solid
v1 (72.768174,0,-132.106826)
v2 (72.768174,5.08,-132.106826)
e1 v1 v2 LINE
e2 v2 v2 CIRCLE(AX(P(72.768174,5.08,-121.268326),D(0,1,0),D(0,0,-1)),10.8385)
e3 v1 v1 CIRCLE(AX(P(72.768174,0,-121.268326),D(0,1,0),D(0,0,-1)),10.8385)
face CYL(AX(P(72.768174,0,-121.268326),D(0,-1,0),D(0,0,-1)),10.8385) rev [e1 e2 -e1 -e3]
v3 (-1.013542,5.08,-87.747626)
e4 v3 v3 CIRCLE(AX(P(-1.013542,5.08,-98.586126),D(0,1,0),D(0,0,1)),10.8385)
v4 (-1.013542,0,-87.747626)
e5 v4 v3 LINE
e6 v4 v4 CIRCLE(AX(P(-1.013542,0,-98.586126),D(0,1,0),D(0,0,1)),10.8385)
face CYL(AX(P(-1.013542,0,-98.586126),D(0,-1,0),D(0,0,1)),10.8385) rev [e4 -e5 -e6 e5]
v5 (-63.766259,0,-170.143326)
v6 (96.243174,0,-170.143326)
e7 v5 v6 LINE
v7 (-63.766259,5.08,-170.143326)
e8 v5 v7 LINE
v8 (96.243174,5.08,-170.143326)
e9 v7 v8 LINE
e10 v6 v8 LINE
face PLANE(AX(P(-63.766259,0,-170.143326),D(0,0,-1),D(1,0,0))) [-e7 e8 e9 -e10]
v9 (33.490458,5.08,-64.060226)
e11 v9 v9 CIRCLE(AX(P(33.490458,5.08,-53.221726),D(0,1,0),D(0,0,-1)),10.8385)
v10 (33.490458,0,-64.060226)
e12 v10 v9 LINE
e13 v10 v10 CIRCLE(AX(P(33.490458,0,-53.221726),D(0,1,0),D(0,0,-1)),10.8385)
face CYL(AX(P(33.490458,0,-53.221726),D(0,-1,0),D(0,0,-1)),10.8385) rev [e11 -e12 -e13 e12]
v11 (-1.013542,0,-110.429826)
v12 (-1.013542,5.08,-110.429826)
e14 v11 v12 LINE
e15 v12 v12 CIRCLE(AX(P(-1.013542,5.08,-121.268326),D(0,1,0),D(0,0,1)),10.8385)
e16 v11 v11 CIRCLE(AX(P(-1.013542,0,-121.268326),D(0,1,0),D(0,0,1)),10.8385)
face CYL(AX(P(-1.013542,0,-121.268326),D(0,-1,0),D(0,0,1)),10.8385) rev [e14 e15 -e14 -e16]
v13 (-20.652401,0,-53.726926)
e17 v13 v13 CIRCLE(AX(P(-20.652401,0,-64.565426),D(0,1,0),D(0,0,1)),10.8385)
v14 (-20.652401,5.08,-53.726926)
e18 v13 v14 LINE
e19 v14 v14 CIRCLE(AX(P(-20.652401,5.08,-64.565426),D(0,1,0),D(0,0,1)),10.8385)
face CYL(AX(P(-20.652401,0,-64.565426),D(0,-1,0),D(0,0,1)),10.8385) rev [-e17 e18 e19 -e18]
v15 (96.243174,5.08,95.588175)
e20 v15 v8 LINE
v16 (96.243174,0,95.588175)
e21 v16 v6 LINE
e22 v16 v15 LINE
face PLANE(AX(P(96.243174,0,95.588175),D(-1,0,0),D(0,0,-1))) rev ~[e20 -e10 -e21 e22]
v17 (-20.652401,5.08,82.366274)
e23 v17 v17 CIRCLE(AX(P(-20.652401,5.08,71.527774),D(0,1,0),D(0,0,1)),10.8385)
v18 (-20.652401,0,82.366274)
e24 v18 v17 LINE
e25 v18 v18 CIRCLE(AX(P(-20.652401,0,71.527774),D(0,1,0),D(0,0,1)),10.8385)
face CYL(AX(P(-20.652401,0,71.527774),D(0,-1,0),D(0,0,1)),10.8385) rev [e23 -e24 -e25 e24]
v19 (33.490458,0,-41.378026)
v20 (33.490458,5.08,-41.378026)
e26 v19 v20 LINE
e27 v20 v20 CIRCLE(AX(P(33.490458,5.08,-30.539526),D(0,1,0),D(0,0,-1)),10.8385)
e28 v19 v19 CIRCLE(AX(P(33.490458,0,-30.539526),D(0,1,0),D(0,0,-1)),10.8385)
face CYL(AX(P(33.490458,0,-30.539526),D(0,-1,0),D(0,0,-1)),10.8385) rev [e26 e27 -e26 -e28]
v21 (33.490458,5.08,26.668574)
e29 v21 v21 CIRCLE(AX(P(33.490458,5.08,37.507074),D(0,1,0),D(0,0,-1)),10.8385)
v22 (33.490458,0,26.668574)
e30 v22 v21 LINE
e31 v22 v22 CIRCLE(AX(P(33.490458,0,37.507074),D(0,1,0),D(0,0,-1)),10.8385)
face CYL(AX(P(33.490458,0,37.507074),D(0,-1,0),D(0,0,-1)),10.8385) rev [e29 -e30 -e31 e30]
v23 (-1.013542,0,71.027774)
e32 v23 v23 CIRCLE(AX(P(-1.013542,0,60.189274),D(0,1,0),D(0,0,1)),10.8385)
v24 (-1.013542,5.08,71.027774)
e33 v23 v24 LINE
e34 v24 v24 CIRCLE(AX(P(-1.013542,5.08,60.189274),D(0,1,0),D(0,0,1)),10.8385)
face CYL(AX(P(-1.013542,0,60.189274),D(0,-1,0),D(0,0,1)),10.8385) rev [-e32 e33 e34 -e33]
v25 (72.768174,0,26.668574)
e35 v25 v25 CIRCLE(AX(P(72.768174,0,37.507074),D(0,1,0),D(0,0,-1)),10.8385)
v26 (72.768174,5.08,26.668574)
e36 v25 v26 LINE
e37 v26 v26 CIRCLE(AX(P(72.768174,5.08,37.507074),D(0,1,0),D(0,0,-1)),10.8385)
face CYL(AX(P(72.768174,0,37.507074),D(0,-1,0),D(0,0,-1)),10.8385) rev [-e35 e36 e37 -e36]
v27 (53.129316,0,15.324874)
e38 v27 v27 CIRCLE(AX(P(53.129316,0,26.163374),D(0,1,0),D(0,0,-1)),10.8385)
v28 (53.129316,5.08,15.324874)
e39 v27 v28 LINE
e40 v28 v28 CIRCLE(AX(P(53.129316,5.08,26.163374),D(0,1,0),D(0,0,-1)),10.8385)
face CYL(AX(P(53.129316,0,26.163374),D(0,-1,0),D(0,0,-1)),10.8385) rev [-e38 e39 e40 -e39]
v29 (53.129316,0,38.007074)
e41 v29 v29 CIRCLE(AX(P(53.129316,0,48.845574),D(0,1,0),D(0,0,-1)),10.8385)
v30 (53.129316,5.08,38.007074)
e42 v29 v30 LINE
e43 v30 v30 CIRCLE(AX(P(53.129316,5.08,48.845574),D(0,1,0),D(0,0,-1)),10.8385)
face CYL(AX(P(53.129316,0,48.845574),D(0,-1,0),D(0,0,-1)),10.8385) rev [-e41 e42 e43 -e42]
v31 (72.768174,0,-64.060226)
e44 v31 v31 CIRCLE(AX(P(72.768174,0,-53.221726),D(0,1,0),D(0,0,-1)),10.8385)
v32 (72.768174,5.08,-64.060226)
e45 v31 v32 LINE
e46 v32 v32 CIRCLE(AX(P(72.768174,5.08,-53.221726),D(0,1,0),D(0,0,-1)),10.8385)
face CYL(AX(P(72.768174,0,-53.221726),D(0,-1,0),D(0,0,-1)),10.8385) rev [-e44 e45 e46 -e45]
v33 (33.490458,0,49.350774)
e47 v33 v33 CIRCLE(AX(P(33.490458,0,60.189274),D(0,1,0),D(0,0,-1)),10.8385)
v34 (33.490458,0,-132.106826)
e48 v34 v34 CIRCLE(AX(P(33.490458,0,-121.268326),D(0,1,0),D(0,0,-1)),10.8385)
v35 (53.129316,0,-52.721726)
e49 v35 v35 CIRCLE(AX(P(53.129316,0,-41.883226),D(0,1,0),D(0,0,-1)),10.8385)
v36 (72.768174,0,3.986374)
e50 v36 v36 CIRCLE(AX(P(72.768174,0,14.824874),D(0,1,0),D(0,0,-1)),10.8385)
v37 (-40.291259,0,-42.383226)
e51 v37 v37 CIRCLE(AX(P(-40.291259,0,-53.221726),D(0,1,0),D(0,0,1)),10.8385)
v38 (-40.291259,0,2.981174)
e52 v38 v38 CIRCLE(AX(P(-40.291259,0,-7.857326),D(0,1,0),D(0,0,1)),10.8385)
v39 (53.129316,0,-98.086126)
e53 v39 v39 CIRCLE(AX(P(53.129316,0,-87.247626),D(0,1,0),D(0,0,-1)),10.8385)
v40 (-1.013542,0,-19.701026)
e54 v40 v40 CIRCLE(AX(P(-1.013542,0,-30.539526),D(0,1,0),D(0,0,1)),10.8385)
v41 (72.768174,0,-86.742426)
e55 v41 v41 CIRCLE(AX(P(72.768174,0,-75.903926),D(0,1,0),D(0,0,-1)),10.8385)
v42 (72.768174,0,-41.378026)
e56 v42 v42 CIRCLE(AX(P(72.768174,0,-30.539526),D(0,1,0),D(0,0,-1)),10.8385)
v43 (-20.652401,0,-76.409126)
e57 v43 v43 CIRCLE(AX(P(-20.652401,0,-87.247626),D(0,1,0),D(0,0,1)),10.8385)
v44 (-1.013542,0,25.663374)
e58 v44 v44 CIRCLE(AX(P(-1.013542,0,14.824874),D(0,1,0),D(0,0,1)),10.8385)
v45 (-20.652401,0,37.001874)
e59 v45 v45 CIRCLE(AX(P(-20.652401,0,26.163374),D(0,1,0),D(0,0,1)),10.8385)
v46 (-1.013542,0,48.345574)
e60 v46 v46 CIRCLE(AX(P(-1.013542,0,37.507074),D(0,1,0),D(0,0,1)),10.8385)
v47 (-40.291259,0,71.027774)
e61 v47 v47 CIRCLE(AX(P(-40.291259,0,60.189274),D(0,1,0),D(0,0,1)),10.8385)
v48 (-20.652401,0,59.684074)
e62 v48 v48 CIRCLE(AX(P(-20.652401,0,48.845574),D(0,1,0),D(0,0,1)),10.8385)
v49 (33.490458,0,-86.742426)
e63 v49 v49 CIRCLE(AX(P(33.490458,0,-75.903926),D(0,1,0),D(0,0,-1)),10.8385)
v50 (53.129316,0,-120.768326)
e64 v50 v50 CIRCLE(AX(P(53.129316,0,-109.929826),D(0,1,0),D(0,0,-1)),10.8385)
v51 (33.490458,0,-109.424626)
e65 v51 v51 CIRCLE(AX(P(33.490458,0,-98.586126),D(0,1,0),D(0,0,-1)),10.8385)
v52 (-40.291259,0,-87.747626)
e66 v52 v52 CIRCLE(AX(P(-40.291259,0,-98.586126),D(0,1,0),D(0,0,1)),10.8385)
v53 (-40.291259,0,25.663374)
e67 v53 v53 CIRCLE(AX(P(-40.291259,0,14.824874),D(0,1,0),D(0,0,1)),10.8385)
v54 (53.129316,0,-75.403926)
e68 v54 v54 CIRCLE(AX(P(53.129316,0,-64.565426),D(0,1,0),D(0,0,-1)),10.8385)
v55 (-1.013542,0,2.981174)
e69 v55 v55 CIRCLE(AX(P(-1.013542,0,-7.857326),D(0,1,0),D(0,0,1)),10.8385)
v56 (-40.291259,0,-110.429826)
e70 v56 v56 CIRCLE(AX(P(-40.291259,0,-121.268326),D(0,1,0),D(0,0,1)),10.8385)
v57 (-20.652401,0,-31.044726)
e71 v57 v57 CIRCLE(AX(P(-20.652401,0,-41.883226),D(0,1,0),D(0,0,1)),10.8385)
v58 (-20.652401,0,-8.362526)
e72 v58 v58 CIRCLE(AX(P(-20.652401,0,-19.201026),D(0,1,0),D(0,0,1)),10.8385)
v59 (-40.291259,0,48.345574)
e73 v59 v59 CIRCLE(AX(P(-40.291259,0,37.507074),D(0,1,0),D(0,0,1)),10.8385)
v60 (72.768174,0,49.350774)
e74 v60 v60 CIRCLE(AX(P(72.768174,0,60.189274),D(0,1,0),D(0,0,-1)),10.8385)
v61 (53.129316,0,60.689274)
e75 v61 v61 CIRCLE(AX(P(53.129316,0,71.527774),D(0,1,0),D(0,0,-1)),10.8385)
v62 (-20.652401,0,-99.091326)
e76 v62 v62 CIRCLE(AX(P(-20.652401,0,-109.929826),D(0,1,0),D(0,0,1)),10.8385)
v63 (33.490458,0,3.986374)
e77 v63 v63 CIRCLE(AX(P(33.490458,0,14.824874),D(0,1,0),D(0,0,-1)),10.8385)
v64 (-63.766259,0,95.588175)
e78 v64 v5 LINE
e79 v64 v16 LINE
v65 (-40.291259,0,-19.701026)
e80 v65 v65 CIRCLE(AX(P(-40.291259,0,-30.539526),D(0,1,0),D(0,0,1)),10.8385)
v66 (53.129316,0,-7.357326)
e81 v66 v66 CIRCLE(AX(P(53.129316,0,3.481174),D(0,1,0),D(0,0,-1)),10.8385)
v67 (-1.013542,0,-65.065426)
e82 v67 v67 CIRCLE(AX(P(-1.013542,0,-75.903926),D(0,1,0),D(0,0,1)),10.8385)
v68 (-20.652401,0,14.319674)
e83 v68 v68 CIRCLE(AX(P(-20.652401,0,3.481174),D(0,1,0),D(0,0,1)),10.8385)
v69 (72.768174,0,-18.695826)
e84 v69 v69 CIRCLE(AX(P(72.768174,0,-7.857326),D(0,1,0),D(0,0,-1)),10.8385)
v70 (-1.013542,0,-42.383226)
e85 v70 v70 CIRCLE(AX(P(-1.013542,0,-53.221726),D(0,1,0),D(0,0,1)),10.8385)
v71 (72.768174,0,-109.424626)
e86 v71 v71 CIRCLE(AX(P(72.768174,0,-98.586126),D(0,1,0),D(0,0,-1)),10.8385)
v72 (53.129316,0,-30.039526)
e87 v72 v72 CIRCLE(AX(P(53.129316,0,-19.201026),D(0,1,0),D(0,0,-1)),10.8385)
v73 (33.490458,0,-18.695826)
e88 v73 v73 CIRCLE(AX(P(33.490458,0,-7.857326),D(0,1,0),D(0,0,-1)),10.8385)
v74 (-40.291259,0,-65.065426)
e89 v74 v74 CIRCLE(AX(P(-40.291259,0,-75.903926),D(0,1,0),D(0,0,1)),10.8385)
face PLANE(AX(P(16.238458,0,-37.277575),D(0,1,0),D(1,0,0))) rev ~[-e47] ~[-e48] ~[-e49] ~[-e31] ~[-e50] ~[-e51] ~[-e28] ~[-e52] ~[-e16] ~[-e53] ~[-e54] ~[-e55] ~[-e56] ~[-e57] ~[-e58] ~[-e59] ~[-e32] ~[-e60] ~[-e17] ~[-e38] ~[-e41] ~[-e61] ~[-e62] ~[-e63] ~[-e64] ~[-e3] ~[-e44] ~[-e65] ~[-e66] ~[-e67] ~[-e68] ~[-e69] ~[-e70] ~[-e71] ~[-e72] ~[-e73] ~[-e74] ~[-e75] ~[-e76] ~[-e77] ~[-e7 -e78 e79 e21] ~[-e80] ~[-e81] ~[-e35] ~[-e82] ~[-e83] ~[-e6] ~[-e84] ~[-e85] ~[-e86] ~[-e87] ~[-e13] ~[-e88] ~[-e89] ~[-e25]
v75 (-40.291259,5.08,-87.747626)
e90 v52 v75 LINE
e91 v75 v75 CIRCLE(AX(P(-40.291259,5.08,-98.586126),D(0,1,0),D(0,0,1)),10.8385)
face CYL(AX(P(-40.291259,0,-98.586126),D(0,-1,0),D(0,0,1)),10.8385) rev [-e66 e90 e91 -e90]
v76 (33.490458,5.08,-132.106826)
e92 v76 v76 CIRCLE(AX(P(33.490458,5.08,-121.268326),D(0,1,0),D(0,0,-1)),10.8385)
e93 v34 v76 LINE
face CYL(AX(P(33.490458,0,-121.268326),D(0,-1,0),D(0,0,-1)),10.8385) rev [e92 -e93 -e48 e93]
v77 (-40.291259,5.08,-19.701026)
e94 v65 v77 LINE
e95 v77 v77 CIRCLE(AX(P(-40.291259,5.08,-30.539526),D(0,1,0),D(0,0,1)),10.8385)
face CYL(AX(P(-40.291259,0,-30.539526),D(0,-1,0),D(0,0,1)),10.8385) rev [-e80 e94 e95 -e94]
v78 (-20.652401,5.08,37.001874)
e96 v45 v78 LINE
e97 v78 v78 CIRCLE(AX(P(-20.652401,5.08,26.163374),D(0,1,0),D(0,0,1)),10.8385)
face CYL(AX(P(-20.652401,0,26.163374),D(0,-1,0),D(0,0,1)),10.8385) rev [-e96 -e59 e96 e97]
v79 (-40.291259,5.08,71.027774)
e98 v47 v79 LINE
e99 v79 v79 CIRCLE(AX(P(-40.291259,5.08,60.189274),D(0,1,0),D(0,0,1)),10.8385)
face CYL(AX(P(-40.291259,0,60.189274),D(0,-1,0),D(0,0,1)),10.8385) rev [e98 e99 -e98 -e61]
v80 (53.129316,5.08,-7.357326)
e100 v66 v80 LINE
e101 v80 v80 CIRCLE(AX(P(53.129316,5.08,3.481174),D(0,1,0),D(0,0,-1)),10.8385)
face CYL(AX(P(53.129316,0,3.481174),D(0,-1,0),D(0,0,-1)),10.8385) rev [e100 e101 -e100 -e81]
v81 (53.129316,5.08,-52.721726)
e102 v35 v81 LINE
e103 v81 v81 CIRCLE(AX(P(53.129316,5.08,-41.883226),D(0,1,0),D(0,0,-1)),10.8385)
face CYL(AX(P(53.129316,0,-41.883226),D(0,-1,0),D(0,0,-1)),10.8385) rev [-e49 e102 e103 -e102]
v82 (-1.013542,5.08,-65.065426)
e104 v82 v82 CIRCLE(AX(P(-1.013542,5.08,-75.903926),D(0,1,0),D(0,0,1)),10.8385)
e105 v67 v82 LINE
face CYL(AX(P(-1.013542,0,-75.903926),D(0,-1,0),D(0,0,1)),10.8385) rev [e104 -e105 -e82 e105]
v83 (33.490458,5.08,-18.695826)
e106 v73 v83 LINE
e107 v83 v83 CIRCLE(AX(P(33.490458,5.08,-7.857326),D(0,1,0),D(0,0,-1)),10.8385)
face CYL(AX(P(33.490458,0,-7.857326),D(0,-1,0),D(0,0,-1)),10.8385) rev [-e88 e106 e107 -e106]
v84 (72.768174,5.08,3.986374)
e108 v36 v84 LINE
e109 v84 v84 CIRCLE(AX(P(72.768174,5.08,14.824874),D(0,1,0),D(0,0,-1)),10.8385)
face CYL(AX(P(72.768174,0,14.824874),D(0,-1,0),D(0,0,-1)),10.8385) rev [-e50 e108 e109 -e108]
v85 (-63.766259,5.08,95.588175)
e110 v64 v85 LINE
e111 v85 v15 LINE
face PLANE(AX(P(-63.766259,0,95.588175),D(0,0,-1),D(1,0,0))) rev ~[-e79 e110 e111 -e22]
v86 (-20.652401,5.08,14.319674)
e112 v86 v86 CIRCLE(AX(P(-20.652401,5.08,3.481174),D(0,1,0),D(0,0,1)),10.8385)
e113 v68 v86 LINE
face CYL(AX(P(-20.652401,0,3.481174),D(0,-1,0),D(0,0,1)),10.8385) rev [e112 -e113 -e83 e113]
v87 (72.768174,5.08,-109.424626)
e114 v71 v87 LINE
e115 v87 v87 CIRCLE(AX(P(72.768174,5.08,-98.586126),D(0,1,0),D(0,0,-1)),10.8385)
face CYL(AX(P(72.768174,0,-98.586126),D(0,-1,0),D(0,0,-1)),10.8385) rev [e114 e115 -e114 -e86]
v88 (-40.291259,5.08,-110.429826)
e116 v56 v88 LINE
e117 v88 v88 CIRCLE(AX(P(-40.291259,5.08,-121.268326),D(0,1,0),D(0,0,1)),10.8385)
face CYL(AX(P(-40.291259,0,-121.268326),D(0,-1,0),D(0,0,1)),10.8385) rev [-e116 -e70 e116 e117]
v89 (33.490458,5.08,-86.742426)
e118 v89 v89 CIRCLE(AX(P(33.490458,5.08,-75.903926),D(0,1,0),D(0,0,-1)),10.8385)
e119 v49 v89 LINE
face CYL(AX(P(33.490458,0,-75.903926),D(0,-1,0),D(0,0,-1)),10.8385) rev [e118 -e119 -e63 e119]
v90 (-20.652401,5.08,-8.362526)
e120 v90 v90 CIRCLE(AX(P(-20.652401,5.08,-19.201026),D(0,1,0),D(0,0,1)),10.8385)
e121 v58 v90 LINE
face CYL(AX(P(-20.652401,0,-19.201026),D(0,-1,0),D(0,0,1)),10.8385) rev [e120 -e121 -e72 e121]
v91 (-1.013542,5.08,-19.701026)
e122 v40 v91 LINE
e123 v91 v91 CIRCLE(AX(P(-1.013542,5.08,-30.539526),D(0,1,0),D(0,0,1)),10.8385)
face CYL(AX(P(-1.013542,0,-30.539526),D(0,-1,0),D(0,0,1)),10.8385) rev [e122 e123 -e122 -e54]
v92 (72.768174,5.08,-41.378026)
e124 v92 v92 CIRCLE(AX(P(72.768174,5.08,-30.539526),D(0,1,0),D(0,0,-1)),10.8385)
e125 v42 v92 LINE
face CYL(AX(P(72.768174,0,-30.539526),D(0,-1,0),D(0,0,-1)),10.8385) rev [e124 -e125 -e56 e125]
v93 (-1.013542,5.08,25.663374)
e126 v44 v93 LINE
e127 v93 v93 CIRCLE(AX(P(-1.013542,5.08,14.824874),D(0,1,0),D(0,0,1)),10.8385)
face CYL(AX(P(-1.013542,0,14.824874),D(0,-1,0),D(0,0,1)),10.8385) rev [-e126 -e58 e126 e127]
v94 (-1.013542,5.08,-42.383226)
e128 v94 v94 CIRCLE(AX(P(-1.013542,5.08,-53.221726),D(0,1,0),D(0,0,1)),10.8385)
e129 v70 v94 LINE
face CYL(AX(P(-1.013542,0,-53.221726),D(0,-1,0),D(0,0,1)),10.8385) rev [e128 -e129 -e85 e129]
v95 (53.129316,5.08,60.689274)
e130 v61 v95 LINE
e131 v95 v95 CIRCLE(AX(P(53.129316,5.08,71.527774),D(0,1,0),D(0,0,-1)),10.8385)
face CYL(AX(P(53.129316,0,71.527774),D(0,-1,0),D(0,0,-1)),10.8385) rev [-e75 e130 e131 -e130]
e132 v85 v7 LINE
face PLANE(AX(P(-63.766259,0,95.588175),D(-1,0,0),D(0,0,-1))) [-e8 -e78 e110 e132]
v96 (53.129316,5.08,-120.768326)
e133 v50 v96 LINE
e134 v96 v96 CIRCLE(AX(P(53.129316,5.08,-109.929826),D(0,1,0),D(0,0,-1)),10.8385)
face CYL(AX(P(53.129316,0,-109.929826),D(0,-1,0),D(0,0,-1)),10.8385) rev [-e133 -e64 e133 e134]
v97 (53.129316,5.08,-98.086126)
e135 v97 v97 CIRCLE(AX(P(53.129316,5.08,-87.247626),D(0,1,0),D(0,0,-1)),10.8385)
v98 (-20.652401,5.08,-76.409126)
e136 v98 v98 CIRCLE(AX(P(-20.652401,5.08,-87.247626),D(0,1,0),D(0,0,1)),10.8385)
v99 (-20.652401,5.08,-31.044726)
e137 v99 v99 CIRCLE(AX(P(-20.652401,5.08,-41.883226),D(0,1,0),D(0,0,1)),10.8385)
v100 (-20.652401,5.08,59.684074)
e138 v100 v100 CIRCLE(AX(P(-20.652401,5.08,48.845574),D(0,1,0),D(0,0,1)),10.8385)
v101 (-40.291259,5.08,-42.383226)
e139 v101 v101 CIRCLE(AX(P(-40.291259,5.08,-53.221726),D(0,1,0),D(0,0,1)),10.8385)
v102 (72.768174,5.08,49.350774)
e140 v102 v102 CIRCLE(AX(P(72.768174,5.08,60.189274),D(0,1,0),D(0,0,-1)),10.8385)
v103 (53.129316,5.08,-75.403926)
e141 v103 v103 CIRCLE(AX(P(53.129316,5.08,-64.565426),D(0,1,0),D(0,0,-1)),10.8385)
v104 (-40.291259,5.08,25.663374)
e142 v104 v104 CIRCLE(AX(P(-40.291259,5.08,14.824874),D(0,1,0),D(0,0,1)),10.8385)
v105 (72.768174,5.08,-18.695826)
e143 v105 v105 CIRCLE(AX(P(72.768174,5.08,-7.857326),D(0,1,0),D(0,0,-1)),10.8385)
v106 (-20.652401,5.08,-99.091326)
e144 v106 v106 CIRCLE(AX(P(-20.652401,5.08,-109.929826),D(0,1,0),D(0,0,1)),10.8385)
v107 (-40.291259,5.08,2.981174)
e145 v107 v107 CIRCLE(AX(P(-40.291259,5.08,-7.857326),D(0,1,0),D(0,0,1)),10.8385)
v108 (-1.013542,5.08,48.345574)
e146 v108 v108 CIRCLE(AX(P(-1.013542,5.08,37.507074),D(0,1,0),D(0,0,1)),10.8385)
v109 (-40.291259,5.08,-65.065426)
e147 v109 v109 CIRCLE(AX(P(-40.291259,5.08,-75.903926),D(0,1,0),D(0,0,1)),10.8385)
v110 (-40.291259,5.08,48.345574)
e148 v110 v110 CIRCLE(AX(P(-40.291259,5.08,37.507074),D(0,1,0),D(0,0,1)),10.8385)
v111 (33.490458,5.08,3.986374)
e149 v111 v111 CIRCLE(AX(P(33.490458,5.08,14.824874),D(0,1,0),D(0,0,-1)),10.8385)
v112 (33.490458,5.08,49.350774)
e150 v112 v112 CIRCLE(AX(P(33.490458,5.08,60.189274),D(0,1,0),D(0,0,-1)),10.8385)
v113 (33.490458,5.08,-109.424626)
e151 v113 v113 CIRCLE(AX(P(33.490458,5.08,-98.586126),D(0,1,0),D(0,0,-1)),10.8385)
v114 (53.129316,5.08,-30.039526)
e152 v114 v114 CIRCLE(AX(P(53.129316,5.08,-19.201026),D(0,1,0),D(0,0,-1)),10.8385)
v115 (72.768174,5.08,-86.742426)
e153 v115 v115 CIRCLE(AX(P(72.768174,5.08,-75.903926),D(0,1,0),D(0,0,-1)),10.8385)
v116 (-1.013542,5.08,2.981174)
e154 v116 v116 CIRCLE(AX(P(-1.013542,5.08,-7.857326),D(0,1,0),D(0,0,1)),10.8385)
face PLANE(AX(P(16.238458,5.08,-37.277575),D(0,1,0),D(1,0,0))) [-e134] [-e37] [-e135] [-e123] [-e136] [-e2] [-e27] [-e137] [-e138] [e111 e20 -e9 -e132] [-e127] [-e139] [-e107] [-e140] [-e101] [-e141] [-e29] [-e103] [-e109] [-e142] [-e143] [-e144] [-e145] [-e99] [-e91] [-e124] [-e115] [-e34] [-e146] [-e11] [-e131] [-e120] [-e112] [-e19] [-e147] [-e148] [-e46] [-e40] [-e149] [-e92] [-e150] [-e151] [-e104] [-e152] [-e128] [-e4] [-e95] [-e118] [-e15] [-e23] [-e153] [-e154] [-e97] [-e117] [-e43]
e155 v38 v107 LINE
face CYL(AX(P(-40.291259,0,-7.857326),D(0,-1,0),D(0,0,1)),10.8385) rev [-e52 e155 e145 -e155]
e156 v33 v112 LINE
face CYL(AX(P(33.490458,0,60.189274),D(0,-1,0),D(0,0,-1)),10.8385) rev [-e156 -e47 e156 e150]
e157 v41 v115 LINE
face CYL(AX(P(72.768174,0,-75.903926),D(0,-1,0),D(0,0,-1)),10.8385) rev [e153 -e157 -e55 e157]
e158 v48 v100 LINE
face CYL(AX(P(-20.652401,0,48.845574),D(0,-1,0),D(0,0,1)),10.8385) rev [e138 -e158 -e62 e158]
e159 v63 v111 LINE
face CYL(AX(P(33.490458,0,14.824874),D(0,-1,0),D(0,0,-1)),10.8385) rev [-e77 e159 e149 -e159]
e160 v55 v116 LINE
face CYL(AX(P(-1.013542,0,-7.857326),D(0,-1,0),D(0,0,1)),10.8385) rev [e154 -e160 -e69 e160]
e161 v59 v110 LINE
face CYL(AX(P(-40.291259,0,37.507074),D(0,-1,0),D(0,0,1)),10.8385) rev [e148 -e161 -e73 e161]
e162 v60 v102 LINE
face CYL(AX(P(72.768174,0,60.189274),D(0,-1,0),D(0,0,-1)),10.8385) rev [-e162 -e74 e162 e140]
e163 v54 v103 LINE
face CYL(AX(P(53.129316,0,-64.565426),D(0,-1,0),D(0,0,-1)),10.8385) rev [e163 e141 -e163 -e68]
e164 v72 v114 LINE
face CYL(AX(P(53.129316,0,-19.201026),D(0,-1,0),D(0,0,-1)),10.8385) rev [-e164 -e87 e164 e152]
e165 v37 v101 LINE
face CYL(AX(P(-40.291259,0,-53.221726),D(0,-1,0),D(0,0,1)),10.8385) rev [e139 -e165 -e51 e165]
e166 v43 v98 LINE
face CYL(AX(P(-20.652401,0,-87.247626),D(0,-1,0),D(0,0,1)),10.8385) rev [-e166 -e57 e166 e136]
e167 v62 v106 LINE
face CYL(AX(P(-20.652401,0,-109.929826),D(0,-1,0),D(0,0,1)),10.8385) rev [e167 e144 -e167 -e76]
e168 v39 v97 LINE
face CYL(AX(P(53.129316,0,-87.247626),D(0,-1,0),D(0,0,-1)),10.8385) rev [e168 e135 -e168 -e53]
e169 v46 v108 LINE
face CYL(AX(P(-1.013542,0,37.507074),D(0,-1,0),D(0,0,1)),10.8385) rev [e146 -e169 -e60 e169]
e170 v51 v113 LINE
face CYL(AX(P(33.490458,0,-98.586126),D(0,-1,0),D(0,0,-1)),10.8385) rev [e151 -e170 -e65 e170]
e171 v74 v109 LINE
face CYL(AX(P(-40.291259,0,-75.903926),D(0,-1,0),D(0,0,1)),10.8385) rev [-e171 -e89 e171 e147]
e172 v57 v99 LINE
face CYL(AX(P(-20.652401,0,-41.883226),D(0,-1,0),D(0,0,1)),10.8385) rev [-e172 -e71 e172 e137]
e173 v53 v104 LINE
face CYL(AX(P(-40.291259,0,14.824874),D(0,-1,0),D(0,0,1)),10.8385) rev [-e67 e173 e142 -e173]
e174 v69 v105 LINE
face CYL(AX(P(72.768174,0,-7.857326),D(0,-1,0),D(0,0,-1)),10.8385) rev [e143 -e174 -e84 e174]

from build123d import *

# Parameters (mm, degrees)
SKETCH1_W           = 160.009432875
SKETCH1_H           = 265.731501048
SKETCH1_R           = 10.83850004
BOSS_EXTRUDE1_DEPTH = 5.08


with BuildPart() as part:
    # Sketch1 → Boss-Extrude1 (new body)
    with BuildSketch(Plane(origin=(0, 0, 0), x_dir=(1, 0, 0), z_dir=(0, 1, 0))):
        with Locations((16.238457681, 37.277575452)):
            Rectangle(SKETCH1_W, SKETCH1_H)
        with Locations(Location((-40.291258717, 121.268325936, 0), (0, 0, 270))):
            Circle(SKETCH1_R, mode=Mode.SUBTRACT)
        with Locations(Location((-20.652400538, 109.92982588, 0), (0, 0, 270))):
            Circle(SKETCH1_R, mode=Mode.SUBTRACT)
        with Locations(Location((-1.01354236, 121.268325936, 0), (0, 0, 270))):
            Circle(SKETCH1_R, mode=Mode.SUBTRACT)
        with Locations(Location((-40.291258717, 98.586125936, 0), (0, 0, 270))):
            Circle(SKETCH1_R, mode=Mode.SUBTRACT)
        with Locations(Location((-20.652400538, 87.24762588, 0), (0, 0, 270))):
            Circle(SKETCH1_R, mode=Mode.SUBTRACT)
        with Locations(Location((-1.01354236, 98.586125936, 0), (0, 0, 270))):
            Circle(SKETCH1_R, mode=Mode.SUBTRACT)
        with Locations(Location((-40.291258717, 75.903925936, 0), (0, 0, 270))):
            Circle(SKETCH1_R, mode=Mode.SUBTRACT)
        with Locations(Location((-20.652400538, 64.56542588, 0), (0, 0, 270))):
            Circle(SKETCH1_R, mode=Mode.SUBTRACT)
        with Locations(Location((-1.01354236, 75.903925936, 0), (0, 0, 270))):
            Circle(SKETCH1_R, mode=Mode.SUBTRACT)
        with Locations(Location((-40.291258717, 53.221725936, 0), (0, 0, 270))):
            Circle(SKETCH1_R, mode=Mode.SUBTRACT)
        with Locations(Location((-20.652400538, 41.88322588, 0), (0, 0, 270))):
            Circle(SKETCH1_R, mode=Mode.SUBTRACT)
        with Locations(Location((-1.01354236, 53.221725936, 0), (0, 0, 270))):
            Circle(SKETCH1_R, mode=Mode.SUBTRACT)
        with Locations(Location((-40.291258717, 30.539525936, 0), (0, 0, 270))):
            Circle(SKETCH1_R, mode=Mode.SUBTRACT)
        with Locations(Location((-20.652400538, 19.20102588, 0), (0, 0, 270))):
            Circle(SKETCH1_R, mode=Mode.SUBTRACT)
        with Locations(Location((-1.01354236, 30.539525936, 0), (0, 0, 270))):
            Circle(SKETCH1_R, mode=Mode.SUBTRACT)
        with Locations(Location((-40.291258717, 7.857325936, 0), (0, 0, 270))):
            Circle(SKETCH1_R, mode=Mode.SUBTRACT)
        with Locations(Location((-20.652400538, -3.48117412, 0), (0, 0, 270))):
            Circle(SKETCH1_R, mode=Mode.SUBTRACT)
        with Locations(Location((-1.01354236, 7.857325936, 0), (0, 0, 270))):
            Circle(SKETCH1_R, mode=Mode.SUBTRACT)
        with Locations(Location((-40.291258717, -14.824874064, 0), (0, 0, 270))):
            Circle(SKETCH1_R, mode=Mode.SUBTRACT)
        with Locations(Location((-20.652400538, -26.16337412, 0), (0, 0, 270))):
            Circle(SKETCH1_R, mode=Mode.SUBTRACT)
        with Locations(Location((-1.01354236, -14.824874064, 0), (0, 0, 270))):
            Circle(SKETCH1_R, mode=Mode.SUBTRACT)
        with Locations(Location((-40.291258717, -37.507074064, 0), (0, 0, 270))):
            Circle(SKETCH1_R, mode=Mode.SUBTRACT)
        with Locations(Location((-20.652400538, -48.84557412, 0), (0, 0, 270))):
            Circle(SKETCH1_R, mode=Mode.SUBTRACT)
        with Locations(Location((-1.01354236, -37.507074064, 0), (0, 0, 270))):
            Circle(SKETCH1_R, mode=Mode.SUBTRACT)
        with Locations(Location((-40.291258717, -60.189274064, 0), (0, 0, 270))):
            Circle(SKETCH1_R, mode=Mode.SUBTRACT)
        with Locations(Location((-20.652400538, -71.52777412, 0), (0, 0, 270))):
            Circle(SKETCH1_R, mode=Mode.SUBTRACT)
        with Locations(Location((-1.01354236, -60.189274064, 0), (0, 0, 270))):
            Circle(SKETCH1_R, mode=Mode.SUBTRACT)
        with Locations(Location((72.768174078, 7.857325936, 0), (0, 0, 90))):
            Circle(SKETCH1_R, mode=Mode.SUBTRACT)
        with Locations(Location((53.129315899, 19.20102588, 0), (0, 0, 90))):
            Circle(SKETCH1_R, mode=Mode.SUBTRACT)
        with Locations(Location((33.49045772, 7.857325936, 0), (0, 0, 90))):
            Circle(SKETCH1_R, mode=Mode.SUBTRACT)
        with Locations(Location((53.129315899, -3.48117412, 0), (0, 0, 90))):
            Circle(SKETCH1_R, mode=Mode.SUBTRACT)
        with Locations(Location((72.768174078, -14.824874064, 0), (0, 0, 90))):
            Circle(SKETCH1_R, mode=Mode.SUBTRACT)
        with Locations(Location((33.49045772, -14.824874064, 0), (0, 0, 90))):
            Circle(SKETCH1_R, mode=Mode.SUBTRACT)
        with Locations(Location((53.129315899, -26.16337412, 0), (0, 0, 90))):
            Circle(SKETCH1_R, mode=Mode.SUBTRACT)
        with Locations(Location((33.49045772, -37.507074064, 0), (0, 0, 90))):
            Circle(SKETCH1_R, mode=Mode.SUBTRACT)
        with Locations(Location((72.768174078, -37.507074064, 0), (0, 0, 90))):
            Circle(SKETCH1_R, mode=Mode.SUBTRACT)
        with Locations(Location((72.768174078, -60.189274064, 0), (0, 0, 90))):
            Circle(SKETCH1_R, mode=Mode.SUBTRACT)
        with Locations(Location((53.129315899, -48.84557412, 0), (0, 0, 90))):
            Circle(SKETCH1_R, mode=Mode.SUBTRACT)
        with Locations(Location((33.49045772, -60.189274064, 0), (0, 0, 90))):
            Circle(SKETCH1_R, mode=Mode.SUBTRACT)
        with Locations(Location((53.129315899, -71.52777412, 0), (0, 0, 90))):
            Circle(SKETCH1_R, mode=Mode.SUBTRACT)
        with Locations(Location((72.768174078, 30.539525936, 0), (0, 0, 90))):
            Circle(SKETCH1_R, mode=Mode.SUBTRACT)
        with Locations(Location((33.49045772, 30.539525936, 0), (0, 0, 90))):
            Circle(SKETCH1_R, mode=Mode.SUBTRACT)
        with Locations(Location((53.129315899, 41.88322588, 0), (0, 0, 90))):
            Circle(SKETCH1_R, mode=Mode.SUBTRACT)
        with Locations(Location((72.768174078, 53.221725936, 0), (0, 0, 90))):
            Circle(SKETCH1_R, mode=Mode.SUBTRACT)
        with Locations(Location((33.49045772, 53.221725936, 0), (0, 0, 90))):
            Circle(SKETCH1_R, mode=Mode.SUBTRACT)
        with Locations(Location((53.129315899, 64.56542588, 0), (0, 0, 90))):
            Circle(SKETCH1_R, mode=Mode.SUBTRACT)
        with Locations(Location((72.768174078, 75.903925936, 0), (0, 0, 90))):
            Circle(SKETCH1_R, mode=Mode.SUBTRACT)
        with Locations(Location((33.49045772, 75.903925936, 0), (0, 0, 90))):
            Circle(SKETCH1_R, mode=Mode.SUBTRACT)
        with Locations(Location((53.129315899, 87.24762588, 0), (0, 0, 90))):
            Circle(SKETCH1_R, mode=Mode.SUBTRACT)
        with Locations(Location((72.768174078, 98.586125936, 0), (0, 0, 90))):
            Circle(SKETCH1_R, mode=Mode.SUBTRACT)
        with Locations(Location((53.129315899, 109.92982588, 0), (0, 0, 90))):
            Circle(SKETCH1_R, mode=Mode.SUBTRACT)
        with Locations(Location((33.49045772, 98.586125936, 0), (0, 0, 90))):
            Circle(SKETCH1_R, mode=Mode.SUBTRACT)
        with Locations(Location((33.49045772, 121.268325936, 0), (0, 0, 90))):
            Circle(SKETCH1_R, mode=Mode.SUBTRACT)
        with Locations(Location((72.768174078, 121.268325936, 0), (0, 0, 90))):
            Circle(SKETCH1_R, mode=Mode.SUBTRACT)
    extrude(amount=BOSS_EXTRUDE1_DEPTH)


solid = part.part
